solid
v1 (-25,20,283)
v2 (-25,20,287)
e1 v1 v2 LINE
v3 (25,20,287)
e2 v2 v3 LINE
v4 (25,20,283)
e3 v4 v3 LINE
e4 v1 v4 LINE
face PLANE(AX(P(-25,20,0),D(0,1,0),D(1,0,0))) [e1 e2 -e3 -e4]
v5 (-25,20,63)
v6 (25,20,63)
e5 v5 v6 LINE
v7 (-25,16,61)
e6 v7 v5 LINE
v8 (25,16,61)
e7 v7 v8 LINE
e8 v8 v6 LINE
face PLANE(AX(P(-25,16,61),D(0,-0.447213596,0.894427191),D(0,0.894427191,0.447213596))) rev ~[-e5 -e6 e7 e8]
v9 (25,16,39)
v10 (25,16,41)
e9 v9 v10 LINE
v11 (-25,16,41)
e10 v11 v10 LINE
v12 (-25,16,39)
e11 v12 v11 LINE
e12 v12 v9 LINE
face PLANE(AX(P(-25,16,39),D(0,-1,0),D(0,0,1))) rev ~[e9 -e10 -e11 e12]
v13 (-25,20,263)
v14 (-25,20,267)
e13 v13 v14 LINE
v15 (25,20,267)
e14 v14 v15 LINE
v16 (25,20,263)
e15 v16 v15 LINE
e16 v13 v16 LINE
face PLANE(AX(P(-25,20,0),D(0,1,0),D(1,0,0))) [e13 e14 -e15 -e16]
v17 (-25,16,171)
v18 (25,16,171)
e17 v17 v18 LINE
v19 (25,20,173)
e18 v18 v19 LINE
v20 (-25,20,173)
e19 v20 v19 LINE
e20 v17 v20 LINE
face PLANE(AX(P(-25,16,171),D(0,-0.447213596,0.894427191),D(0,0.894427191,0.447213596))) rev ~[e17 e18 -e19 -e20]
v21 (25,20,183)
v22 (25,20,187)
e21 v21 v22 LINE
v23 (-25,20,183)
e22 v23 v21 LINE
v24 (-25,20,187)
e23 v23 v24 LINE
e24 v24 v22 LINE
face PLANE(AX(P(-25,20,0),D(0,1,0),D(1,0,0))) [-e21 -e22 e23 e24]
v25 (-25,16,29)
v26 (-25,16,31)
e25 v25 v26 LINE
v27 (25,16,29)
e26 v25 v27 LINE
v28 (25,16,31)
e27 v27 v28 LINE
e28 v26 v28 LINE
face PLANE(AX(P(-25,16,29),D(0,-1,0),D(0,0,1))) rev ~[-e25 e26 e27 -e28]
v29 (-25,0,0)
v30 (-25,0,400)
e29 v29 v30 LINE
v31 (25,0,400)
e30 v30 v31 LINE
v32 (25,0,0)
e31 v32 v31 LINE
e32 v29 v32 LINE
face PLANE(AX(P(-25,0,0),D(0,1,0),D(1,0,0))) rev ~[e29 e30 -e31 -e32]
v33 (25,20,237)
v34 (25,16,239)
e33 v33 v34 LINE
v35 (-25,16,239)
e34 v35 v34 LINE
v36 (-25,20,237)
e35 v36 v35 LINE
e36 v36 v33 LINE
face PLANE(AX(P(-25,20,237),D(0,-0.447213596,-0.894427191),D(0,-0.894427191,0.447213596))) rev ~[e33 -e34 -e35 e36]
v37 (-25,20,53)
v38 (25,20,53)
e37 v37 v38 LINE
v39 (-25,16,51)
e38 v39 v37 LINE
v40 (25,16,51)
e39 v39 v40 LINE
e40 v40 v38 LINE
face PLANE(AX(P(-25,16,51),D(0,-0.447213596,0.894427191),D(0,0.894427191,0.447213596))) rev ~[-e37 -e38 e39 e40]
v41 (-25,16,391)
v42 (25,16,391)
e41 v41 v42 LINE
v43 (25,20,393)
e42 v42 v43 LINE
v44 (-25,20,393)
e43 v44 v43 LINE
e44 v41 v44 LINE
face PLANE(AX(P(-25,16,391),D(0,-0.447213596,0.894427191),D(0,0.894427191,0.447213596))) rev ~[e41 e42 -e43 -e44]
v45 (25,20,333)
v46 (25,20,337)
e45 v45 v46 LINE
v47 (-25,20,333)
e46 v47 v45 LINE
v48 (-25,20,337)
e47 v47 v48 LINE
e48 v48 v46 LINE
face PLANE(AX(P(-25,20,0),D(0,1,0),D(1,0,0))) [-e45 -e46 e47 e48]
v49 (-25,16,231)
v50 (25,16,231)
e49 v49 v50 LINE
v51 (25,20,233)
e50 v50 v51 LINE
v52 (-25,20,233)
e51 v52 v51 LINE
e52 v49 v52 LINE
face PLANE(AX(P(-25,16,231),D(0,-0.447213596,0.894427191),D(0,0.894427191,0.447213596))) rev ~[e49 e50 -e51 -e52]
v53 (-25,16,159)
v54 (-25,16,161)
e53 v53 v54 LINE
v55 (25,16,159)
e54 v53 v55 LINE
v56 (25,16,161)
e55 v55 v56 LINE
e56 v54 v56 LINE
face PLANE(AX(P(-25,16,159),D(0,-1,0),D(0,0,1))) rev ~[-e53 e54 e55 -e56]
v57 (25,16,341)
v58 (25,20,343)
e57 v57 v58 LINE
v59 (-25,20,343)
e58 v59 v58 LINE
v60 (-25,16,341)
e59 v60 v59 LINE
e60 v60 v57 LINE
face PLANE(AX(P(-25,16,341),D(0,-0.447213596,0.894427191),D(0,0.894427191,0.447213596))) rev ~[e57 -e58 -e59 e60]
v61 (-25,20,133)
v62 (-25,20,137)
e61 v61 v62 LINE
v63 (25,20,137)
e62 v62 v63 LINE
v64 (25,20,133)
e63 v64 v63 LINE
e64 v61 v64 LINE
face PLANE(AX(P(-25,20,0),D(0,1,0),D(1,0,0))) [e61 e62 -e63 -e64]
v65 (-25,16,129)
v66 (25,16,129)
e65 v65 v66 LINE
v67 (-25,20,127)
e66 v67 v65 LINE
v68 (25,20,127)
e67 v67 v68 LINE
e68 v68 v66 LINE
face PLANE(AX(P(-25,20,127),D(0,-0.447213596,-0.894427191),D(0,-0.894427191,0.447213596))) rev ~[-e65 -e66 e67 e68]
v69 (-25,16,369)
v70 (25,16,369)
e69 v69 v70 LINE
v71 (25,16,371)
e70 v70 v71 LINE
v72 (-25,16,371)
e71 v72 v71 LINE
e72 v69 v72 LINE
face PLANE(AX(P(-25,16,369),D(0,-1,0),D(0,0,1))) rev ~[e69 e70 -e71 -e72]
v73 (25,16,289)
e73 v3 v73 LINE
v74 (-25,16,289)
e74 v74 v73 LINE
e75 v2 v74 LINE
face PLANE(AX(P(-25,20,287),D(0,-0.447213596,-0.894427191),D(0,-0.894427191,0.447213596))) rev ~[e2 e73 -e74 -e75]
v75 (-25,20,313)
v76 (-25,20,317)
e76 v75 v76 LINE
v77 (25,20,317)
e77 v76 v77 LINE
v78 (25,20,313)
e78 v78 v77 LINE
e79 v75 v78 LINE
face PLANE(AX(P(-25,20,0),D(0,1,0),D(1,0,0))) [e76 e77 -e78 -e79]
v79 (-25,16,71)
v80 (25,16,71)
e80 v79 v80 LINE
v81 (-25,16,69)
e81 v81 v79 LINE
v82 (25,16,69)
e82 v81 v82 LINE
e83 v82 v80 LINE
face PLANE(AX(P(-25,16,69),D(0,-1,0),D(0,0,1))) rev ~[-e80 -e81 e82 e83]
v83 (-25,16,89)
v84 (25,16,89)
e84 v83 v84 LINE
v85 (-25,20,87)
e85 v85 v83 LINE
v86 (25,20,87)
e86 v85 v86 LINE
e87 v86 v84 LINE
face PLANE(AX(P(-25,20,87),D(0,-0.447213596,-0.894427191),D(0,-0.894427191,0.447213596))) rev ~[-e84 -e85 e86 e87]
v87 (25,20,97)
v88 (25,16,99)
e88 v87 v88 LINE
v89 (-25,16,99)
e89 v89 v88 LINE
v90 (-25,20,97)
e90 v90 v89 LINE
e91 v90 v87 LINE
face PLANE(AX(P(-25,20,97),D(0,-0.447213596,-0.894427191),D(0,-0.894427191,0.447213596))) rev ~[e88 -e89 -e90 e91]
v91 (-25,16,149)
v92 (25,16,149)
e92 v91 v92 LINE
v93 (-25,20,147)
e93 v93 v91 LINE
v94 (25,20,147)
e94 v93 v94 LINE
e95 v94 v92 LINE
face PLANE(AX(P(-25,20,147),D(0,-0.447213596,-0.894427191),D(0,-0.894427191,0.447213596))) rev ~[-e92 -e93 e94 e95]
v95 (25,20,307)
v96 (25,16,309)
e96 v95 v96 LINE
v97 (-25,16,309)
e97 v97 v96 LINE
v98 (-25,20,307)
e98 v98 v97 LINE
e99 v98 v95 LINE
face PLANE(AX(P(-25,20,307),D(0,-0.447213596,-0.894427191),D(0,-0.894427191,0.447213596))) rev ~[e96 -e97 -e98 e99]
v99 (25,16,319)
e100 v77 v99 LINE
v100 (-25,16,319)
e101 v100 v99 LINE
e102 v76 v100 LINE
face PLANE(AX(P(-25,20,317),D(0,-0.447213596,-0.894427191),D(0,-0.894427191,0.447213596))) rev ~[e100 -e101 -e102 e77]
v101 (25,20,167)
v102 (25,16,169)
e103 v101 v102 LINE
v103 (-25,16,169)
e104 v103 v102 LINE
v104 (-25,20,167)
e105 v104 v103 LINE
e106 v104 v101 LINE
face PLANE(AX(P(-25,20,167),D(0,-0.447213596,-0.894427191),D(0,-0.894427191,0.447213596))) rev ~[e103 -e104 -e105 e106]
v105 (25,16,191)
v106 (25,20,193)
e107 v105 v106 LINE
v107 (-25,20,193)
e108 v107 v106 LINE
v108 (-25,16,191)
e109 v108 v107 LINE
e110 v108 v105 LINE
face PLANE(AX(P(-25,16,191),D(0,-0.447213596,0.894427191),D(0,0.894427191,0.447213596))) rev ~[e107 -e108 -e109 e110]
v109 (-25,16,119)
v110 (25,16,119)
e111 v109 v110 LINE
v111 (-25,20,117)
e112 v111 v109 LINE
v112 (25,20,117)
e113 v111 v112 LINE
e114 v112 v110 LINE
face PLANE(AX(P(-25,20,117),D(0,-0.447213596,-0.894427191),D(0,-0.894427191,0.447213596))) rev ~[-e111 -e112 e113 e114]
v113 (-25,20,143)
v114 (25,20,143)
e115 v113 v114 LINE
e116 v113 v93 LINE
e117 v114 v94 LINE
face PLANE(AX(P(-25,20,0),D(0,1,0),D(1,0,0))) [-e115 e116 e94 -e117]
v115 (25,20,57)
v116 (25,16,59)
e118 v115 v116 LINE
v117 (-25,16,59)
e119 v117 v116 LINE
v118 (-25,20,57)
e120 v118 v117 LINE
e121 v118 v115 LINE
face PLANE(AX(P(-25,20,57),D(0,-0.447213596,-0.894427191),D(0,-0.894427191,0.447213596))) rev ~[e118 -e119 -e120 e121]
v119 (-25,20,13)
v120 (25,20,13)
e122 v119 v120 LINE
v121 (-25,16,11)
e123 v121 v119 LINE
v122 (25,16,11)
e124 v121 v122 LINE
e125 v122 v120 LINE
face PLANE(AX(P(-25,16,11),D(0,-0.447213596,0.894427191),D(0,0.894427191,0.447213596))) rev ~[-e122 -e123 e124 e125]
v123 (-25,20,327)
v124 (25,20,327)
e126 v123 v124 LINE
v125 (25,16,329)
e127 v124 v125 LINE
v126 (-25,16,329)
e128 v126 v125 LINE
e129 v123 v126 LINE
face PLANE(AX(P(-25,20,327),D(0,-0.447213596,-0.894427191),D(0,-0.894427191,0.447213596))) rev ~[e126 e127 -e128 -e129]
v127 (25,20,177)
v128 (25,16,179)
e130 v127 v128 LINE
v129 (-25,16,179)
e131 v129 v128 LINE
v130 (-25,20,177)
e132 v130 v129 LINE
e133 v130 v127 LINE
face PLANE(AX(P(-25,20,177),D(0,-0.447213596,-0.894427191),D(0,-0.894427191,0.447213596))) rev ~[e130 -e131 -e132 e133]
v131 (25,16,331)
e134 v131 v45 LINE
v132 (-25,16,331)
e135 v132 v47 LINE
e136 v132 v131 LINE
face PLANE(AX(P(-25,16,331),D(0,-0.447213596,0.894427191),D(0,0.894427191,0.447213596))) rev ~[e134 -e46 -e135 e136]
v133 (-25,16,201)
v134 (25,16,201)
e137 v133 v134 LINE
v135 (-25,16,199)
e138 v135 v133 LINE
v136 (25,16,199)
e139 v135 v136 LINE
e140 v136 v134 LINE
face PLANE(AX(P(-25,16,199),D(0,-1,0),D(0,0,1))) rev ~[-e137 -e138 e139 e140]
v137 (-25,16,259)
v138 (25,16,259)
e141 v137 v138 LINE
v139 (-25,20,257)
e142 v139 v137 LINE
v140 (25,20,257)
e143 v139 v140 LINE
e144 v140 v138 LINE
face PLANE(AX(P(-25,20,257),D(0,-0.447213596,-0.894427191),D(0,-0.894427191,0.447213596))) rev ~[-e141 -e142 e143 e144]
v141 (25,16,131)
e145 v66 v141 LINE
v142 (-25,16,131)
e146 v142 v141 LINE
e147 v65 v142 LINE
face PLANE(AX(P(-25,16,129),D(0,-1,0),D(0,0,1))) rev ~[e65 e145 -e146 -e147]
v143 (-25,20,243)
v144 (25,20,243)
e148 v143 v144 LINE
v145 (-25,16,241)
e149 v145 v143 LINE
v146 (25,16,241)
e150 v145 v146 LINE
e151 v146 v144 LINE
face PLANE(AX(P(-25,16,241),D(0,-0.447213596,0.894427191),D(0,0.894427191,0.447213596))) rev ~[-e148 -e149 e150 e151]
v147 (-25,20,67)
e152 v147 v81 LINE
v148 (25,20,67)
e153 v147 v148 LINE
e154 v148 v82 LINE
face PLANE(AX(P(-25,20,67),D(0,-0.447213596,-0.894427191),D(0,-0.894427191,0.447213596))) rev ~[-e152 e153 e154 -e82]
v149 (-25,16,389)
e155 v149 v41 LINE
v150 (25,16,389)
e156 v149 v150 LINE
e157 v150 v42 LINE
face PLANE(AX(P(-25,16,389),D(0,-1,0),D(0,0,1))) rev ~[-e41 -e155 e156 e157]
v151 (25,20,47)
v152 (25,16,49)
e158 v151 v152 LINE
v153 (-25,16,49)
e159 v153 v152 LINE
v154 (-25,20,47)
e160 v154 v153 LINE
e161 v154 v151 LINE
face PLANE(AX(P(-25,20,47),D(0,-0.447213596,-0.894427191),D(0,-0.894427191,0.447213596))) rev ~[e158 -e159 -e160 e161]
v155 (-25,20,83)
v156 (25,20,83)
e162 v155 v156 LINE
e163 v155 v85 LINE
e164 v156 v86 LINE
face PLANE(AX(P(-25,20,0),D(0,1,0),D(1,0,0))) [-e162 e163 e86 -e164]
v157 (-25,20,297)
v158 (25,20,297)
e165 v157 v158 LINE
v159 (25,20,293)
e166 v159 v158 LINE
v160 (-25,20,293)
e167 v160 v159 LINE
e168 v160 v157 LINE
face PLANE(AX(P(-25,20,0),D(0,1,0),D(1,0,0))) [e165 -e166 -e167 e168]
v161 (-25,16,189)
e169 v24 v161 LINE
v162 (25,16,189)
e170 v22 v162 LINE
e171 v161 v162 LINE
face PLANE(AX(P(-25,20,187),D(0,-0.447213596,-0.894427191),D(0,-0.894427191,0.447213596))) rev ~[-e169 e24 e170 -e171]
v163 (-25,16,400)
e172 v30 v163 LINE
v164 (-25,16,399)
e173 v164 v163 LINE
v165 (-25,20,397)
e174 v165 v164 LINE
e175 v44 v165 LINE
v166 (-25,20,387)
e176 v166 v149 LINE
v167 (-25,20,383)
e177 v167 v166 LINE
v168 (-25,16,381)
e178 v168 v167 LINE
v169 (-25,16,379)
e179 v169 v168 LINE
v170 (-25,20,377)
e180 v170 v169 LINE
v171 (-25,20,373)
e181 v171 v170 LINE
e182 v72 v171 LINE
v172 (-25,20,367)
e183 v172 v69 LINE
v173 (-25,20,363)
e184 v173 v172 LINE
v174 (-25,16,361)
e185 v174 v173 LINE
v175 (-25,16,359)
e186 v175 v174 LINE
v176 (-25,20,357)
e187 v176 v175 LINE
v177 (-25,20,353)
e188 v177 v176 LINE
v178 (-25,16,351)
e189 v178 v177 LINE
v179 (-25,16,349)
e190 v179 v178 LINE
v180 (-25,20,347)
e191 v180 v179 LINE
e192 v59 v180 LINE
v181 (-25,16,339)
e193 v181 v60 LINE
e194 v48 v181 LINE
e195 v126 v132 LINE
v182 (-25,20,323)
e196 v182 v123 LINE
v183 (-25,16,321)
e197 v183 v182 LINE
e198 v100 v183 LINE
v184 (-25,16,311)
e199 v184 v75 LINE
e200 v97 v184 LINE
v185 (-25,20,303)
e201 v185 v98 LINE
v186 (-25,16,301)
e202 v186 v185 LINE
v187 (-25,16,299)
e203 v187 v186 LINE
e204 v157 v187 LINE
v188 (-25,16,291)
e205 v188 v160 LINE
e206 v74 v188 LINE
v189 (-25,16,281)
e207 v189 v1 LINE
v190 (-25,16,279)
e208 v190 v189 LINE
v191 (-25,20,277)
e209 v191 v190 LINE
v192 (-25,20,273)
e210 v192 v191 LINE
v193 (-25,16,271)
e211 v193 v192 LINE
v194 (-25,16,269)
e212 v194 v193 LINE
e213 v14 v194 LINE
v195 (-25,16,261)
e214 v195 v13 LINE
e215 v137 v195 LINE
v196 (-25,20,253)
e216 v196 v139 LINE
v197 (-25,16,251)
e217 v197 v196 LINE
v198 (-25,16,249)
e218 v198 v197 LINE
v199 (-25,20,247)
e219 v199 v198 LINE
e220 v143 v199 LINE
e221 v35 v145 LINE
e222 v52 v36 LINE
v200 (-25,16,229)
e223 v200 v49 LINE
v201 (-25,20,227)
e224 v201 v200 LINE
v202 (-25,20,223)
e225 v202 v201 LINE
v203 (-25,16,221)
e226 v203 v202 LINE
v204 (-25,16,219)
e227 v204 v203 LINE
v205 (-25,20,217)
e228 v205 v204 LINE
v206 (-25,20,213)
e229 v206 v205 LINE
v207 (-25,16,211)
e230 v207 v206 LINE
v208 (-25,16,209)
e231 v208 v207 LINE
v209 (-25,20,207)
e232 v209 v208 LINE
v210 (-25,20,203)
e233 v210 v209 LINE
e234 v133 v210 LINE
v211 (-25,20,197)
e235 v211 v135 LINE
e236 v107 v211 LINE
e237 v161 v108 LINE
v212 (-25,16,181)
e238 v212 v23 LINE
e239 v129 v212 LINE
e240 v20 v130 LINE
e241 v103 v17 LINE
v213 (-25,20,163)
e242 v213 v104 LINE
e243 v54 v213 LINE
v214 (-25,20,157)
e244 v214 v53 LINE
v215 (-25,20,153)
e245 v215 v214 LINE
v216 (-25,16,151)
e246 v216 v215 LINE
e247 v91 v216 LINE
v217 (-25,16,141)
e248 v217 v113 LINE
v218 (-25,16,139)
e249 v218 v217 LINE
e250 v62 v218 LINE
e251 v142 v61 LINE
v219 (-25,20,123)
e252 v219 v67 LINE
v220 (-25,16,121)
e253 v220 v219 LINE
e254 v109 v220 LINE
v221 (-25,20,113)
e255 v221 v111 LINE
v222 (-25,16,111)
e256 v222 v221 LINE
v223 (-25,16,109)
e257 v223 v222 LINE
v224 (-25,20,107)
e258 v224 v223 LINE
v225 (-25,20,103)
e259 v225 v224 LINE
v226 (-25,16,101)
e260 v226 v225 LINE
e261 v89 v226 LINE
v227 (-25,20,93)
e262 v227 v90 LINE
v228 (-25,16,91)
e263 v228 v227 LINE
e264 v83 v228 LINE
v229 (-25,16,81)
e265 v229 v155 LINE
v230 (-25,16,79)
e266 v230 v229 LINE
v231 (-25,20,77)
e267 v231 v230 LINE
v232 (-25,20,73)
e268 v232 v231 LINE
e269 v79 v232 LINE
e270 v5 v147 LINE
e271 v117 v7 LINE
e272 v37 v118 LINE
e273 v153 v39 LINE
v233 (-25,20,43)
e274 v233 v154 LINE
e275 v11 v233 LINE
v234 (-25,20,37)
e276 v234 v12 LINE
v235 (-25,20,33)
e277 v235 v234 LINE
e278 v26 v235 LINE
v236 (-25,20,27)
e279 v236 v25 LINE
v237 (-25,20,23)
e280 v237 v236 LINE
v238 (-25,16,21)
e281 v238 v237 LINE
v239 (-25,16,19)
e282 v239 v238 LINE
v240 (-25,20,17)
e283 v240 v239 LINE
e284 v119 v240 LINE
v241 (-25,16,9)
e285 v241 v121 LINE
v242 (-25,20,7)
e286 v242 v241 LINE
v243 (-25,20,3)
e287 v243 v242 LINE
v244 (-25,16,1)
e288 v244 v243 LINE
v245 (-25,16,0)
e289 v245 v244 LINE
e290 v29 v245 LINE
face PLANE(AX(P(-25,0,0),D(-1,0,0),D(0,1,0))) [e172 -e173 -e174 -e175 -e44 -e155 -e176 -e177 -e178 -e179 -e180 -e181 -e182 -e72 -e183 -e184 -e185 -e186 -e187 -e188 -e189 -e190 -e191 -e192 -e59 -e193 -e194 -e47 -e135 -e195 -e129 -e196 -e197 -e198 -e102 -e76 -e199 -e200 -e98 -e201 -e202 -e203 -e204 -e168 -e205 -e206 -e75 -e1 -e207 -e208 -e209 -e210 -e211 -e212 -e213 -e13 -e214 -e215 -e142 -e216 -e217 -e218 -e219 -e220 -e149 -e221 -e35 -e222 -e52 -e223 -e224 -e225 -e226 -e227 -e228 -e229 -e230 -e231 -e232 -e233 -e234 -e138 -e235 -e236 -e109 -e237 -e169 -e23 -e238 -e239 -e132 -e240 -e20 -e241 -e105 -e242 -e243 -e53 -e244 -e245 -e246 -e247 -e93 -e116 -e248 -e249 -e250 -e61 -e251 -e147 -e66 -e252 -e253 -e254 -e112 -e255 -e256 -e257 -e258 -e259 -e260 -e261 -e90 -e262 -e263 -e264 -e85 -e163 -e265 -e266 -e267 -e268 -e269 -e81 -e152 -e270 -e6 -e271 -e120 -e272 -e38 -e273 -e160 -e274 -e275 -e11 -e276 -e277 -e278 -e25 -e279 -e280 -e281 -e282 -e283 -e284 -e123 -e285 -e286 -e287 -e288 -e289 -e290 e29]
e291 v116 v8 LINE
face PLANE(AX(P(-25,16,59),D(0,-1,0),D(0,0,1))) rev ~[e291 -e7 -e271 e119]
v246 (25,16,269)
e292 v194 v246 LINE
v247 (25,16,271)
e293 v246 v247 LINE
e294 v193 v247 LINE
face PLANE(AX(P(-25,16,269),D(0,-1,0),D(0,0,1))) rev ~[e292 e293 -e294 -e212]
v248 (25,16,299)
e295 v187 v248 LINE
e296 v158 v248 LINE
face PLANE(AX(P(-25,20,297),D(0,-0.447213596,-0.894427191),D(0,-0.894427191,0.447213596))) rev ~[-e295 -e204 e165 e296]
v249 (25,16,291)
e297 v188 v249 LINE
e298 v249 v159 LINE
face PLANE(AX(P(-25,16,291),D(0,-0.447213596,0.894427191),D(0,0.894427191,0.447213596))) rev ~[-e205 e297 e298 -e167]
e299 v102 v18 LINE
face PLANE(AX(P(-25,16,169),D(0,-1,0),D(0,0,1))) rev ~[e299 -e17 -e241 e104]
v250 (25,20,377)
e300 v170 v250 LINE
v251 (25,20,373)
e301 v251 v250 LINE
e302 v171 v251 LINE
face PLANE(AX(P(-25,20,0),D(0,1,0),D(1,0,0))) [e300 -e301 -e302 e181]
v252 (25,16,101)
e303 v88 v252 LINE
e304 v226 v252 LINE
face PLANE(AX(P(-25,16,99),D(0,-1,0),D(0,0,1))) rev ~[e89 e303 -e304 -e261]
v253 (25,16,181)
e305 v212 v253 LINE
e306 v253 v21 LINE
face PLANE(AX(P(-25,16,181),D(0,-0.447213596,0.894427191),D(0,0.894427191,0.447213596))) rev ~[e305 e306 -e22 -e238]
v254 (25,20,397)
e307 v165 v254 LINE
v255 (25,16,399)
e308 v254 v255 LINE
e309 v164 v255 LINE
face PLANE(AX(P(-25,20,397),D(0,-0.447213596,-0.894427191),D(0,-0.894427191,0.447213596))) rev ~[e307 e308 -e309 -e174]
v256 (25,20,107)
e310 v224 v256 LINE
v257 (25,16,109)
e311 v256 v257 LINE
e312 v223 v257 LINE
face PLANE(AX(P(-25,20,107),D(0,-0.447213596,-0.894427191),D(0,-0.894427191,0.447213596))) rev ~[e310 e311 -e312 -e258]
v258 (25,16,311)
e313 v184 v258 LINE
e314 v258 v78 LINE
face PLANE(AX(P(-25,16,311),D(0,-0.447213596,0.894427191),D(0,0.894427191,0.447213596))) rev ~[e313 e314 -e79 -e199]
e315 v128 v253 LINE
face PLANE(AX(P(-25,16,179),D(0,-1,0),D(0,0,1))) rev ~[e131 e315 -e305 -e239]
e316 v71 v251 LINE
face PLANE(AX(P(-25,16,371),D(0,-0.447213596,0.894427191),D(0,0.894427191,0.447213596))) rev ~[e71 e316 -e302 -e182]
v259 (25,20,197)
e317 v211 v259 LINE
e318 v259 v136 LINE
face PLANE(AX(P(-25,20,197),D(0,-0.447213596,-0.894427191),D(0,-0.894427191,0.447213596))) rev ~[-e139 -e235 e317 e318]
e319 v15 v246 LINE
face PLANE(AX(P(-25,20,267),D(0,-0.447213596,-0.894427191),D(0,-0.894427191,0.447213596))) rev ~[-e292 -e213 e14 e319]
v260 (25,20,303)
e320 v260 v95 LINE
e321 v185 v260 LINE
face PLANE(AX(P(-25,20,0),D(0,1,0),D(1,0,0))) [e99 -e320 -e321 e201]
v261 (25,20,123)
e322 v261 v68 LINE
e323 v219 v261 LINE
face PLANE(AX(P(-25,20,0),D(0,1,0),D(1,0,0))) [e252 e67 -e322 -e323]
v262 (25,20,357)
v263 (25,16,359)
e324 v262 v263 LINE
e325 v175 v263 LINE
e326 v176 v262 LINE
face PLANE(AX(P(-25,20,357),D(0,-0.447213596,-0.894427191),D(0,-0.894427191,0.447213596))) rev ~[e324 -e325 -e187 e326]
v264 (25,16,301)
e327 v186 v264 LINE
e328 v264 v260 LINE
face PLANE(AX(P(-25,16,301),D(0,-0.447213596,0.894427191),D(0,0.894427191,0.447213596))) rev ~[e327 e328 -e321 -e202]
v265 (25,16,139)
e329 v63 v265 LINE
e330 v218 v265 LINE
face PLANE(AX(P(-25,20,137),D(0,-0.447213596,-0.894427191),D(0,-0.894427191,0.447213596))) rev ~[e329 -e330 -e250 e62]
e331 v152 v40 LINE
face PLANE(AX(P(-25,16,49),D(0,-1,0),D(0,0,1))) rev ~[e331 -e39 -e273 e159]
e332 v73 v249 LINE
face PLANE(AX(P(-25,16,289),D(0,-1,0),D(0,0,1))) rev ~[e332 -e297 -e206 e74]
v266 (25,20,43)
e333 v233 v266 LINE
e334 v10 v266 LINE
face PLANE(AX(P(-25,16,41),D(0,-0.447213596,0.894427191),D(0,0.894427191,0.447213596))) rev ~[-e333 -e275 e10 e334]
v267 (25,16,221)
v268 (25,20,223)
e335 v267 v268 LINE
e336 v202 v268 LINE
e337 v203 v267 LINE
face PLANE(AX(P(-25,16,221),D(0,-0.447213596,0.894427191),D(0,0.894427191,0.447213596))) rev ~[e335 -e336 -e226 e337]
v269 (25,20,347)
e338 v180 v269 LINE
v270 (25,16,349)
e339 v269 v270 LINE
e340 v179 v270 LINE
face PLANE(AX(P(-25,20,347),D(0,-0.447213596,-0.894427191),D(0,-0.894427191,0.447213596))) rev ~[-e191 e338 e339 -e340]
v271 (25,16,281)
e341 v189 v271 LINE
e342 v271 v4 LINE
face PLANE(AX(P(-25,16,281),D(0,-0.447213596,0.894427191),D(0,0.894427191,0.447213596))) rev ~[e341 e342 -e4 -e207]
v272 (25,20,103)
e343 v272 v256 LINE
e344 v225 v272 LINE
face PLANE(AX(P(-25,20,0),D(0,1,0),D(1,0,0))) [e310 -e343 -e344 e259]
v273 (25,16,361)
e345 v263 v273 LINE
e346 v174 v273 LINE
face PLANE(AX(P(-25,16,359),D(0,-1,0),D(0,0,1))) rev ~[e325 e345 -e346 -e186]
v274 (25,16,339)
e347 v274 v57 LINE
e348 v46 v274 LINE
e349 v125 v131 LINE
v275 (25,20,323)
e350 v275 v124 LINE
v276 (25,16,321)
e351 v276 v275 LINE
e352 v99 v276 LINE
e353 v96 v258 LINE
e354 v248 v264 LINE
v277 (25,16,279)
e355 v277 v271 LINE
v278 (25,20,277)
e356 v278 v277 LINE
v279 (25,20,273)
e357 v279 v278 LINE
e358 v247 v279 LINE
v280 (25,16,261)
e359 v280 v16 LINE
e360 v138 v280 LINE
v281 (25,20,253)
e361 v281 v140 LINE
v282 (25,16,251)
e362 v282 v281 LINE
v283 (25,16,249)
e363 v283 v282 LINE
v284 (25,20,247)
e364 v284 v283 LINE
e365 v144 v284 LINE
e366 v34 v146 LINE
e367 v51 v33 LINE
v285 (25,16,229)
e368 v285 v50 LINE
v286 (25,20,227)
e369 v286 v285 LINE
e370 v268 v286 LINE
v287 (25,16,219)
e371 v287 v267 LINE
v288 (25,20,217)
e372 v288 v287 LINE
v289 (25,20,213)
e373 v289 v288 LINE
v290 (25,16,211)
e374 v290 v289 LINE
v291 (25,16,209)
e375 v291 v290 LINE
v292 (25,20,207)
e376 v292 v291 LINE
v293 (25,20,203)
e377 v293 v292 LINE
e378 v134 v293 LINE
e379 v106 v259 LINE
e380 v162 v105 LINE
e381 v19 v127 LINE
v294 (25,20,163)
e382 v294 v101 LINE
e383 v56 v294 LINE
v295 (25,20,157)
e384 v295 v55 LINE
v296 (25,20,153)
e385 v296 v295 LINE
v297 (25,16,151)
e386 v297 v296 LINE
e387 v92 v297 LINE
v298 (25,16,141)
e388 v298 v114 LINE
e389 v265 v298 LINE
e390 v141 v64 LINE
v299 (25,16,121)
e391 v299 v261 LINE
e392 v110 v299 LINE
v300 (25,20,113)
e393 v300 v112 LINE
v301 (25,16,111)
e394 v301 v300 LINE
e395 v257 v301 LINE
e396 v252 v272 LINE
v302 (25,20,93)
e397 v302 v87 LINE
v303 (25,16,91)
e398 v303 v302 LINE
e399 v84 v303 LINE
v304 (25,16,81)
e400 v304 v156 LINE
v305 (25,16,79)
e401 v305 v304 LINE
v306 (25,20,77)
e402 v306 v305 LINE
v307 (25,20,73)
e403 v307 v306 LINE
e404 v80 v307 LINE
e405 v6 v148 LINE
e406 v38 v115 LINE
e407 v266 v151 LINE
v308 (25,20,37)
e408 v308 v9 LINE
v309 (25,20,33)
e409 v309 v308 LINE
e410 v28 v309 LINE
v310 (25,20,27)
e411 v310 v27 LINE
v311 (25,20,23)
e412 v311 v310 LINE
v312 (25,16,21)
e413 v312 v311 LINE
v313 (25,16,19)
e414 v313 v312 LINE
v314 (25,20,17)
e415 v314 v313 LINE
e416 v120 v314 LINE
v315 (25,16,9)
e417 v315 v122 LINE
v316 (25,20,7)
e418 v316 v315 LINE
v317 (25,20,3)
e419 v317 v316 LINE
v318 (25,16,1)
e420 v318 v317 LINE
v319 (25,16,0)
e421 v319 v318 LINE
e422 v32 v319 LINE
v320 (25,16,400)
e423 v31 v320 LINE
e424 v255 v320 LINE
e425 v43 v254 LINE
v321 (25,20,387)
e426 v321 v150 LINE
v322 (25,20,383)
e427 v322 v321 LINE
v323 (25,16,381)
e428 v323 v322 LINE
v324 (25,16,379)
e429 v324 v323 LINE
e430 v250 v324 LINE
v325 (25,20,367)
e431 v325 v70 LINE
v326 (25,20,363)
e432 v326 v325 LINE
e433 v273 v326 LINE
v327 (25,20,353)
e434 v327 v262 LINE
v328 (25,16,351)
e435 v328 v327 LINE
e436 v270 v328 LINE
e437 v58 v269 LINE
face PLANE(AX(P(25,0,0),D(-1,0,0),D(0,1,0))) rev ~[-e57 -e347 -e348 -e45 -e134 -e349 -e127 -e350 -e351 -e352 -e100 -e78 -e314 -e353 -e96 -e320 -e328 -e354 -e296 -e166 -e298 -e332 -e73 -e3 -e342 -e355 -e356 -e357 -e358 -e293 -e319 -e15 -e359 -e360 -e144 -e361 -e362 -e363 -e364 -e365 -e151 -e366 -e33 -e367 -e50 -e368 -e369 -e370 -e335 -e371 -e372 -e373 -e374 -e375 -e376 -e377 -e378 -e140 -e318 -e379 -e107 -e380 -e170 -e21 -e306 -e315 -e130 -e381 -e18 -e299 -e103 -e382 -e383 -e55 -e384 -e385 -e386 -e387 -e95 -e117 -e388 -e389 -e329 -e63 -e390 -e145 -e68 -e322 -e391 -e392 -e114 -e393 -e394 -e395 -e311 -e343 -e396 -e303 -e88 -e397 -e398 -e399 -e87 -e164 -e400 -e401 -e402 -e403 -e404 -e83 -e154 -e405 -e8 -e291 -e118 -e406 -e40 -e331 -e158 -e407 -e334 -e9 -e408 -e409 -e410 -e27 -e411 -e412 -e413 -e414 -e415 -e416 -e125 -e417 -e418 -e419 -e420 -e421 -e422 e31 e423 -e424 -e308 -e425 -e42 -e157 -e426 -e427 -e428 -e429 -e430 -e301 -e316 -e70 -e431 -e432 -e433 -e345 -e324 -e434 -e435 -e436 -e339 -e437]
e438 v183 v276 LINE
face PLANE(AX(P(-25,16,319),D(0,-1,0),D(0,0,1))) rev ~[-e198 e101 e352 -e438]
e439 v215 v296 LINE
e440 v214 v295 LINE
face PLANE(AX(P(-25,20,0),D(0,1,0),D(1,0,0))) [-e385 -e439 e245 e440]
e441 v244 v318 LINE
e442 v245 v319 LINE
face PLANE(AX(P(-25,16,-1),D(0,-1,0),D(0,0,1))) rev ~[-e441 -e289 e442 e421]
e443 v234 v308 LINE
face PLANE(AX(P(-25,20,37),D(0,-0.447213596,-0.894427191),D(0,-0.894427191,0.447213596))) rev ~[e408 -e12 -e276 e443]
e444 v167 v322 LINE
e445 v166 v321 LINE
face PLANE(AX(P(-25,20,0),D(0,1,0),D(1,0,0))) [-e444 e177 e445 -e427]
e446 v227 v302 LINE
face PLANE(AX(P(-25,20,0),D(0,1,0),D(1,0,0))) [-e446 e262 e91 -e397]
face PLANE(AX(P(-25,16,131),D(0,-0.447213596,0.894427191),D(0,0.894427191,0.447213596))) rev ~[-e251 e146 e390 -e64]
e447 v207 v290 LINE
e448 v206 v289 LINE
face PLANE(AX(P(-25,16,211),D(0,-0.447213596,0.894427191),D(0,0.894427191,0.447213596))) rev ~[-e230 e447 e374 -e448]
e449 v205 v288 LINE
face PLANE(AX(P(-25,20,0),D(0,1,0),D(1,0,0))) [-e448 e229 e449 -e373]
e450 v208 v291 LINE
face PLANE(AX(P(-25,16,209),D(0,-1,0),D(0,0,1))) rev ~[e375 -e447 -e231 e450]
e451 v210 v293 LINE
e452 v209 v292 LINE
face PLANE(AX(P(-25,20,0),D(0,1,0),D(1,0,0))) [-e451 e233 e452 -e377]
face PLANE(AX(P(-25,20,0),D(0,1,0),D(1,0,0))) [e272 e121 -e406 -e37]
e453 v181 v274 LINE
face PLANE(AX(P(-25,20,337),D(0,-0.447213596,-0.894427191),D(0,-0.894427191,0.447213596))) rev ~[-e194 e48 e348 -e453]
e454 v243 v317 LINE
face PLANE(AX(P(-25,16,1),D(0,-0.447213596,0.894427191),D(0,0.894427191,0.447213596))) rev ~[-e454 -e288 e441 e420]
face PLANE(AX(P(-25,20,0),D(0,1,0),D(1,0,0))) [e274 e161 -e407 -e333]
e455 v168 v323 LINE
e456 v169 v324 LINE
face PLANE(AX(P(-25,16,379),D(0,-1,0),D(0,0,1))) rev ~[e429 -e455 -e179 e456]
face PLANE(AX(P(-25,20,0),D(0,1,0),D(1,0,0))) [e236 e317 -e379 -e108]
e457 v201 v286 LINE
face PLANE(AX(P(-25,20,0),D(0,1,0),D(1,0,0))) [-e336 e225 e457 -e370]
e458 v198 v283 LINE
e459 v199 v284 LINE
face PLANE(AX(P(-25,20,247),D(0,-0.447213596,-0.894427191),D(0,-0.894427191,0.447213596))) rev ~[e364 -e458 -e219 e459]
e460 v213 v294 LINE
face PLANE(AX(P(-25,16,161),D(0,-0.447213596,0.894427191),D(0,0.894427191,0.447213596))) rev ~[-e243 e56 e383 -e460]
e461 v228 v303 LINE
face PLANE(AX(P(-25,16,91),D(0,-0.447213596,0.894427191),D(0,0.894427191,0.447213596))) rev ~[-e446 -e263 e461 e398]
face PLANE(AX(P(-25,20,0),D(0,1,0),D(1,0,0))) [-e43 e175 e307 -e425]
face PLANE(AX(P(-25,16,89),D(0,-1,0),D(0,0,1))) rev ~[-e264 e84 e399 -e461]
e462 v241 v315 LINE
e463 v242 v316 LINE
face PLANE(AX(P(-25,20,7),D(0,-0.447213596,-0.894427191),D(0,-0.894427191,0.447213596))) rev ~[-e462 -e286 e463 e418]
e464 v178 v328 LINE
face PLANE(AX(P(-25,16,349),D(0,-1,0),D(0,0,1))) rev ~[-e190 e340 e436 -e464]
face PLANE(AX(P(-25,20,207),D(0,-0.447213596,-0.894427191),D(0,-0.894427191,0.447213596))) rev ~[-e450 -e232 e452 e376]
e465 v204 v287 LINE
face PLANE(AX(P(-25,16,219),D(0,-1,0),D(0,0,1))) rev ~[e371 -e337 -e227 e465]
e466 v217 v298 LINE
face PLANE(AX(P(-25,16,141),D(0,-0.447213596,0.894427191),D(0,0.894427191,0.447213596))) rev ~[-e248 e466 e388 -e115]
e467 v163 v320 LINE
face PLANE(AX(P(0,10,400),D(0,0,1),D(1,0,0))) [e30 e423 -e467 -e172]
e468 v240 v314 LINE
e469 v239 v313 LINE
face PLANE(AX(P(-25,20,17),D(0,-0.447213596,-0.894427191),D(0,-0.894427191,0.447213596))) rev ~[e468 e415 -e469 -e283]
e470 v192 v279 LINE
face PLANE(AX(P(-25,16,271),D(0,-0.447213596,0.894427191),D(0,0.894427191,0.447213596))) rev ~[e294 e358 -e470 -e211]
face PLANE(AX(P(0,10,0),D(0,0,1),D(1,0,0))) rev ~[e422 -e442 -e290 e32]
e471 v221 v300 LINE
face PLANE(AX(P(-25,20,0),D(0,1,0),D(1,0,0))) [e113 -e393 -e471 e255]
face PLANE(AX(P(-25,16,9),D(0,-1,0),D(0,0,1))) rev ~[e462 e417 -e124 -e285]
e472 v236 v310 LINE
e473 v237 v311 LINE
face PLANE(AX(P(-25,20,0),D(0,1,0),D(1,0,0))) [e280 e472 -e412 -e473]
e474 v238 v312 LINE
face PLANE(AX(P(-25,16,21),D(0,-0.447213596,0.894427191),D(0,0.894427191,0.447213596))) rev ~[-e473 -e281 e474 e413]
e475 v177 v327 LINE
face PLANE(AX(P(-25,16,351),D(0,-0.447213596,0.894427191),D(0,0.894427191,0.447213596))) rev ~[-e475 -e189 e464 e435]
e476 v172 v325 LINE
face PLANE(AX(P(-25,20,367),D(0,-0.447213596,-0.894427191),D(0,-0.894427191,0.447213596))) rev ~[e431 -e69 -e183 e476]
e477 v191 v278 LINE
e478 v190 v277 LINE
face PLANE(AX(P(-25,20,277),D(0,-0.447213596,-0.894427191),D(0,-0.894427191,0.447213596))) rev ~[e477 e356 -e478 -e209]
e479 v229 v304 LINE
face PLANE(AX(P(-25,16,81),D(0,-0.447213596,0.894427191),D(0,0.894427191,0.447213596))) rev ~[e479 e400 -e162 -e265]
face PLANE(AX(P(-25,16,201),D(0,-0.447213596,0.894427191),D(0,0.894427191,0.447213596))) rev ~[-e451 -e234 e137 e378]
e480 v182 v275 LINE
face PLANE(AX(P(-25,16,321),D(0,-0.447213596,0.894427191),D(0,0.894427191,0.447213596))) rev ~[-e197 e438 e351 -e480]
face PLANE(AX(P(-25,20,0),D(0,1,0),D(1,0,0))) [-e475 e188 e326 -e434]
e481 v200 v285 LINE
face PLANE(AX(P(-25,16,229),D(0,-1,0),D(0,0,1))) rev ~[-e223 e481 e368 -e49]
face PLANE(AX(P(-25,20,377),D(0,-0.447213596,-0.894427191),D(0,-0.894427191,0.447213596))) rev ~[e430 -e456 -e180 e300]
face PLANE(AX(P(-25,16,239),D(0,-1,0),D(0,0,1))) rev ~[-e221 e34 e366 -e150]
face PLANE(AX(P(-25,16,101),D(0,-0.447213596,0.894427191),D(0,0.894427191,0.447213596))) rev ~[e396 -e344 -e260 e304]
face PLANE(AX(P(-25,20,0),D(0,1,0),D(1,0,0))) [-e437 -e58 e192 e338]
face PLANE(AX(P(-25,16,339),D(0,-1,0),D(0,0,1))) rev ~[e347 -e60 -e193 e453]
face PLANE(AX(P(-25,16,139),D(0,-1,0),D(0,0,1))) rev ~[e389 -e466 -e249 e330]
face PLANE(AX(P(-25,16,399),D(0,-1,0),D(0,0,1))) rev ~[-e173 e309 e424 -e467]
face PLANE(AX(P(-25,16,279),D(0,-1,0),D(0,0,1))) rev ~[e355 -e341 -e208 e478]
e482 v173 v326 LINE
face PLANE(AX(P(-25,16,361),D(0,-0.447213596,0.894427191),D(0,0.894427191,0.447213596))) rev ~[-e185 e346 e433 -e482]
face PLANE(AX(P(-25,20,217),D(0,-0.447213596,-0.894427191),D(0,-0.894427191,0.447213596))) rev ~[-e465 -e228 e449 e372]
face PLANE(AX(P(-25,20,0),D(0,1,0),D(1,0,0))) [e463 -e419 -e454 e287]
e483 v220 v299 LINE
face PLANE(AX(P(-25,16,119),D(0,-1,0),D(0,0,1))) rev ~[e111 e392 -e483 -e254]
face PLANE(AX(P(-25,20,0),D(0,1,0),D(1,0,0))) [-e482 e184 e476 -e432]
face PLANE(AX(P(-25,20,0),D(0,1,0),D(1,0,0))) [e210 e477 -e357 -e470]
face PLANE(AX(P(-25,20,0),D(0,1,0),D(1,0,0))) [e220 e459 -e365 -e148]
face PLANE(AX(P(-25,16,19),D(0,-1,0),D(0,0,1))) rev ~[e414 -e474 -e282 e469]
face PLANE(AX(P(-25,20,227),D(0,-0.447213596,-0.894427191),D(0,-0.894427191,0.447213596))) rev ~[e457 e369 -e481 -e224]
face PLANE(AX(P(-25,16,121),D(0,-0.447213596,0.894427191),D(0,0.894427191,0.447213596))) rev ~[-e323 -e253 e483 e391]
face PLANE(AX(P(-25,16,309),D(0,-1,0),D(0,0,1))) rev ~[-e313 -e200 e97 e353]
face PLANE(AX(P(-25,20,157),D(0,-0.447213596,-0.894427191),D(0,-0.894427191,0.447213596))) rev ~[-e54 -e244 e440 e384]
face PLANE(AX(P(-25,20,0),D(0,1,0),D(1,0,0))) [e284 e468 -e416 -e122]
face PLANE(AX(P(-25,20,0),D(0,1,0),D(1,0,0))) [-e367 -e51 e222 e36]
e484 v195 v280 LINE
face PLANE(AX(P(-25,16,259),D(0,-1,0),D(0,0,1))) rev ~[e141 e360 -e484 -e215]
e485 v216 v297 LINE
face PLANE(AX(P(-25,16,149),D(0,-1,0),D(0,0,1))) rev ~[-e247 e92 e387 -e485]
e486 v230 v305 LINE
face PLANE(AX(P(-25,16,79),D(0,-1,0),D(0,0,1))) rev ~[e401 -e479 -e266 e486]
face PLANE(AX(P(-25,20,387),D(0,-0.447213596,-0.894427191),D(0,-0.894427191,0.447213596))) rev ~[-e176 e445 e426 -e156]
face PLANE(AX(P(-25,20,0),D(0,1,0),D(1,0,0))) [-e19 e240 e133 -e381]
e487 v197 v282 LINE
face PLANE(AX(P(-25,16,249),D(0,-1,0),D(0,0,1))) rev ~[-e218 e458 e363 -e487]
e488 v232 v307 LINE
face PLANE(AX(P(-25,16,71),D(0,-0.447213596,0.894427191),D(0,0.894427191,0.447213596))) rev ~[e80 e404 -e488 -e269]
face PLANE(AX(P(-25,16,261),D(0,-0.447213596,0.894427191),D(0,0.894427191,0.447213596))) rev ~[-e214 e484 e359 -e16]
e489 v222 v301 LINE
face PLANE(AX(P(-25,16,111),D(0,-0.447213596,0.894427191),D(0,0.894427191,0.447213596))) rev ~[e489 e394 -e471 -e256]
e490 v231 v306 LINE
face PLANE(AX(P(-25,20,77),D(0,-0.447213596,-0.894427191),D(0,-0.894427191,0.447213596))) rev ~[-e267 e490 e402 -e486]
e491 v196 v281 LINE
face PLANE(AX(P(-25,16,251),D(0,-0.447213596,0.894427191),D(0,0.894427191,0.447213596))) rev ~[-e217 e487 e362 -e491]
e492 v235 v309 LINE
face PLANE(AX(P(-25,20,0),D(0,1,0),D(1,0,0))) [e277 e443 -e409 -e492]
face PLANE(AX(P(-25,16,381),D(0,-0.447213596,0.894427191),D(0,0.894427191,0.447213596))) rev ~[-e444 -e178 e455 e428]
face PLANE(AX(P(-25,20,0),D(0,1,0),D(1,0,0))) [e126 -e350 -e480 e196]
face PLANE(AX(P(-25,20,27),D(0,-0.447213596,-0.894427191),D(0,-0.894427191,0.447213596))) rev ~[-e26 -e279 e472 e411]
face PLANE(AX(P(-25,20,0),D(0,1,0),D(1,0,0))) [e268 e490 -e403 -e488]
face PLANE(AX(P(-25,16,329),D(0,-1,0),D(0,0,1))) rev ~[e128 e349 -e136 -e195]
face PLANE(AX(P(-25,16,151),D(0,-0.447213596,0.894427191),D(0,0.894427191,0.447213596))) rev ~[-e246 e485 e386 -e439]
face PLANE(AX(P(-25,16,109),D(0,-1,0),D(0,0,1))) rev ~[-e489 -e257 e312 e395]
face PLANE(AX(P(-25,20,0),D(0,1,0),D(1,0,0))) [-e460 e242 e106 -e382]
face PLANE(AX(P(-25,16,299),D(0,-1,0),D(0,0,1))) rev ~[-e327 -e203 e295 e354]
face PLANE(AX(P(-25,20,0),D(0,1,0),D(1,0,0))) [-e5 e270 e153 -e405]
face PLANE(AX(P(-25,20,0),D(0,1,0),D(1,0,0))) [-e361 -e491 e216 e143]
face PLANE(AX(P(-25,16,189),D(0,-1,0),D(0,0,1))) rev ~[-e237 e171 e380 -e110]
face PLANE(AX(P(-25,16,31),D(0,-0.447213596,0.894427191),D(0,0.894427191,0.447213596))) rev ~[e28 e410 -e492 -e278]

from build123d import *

# Parameters (mm, degrees)
SKETCH1_W           = 50
SKETCH1_H           = 20
BOSS_EXTRUDE1_DEPTH = 400
CUT_EXTRUDE1_START  = -50
CUT_EXTRUDE1_DEPTH  = 50
LPATTERN1_COUNT     = 41
LPATTERN1_PITCH     = 10


with BuildPart() as part:
    # Sketch1 → Boss-Extrude1 (new body)
    with BuildSketch(Plane.XY):
        with Locations((0, 10)):
            Rectangle(SKETCH1_W, SKETCH1_H)
    extrude(amount=BOSS_EXTRUDE1_DEPTH)

    # Sketch2 → Cut-Extrude1 (cut)
    with BuildSketch(Plane(origin=(25, 0, 0), x_dir=(0, 0, -1), z_dir=(1, 0, 0)).offset(CUT_EXTRUDE1_START)):
        Polygon((-403, 20), (-397, 20), (-399, 16), (-401, 16), align=None)
    cut_extrude1 = extrude(amount=CUT_EXTRUDE1_DEPTH, mode=Mode.SUBTRACT)

    # LPattern1: Cut-Extrude1 ×41
    with Locations(*[(0, 0, -i * LPATTERN1_PITCH) for i in range(1, LPATTERN1_COUNT)]):
        add(cut_extrude1, mode=Mode.SUBTRACT)


solid = part.part
